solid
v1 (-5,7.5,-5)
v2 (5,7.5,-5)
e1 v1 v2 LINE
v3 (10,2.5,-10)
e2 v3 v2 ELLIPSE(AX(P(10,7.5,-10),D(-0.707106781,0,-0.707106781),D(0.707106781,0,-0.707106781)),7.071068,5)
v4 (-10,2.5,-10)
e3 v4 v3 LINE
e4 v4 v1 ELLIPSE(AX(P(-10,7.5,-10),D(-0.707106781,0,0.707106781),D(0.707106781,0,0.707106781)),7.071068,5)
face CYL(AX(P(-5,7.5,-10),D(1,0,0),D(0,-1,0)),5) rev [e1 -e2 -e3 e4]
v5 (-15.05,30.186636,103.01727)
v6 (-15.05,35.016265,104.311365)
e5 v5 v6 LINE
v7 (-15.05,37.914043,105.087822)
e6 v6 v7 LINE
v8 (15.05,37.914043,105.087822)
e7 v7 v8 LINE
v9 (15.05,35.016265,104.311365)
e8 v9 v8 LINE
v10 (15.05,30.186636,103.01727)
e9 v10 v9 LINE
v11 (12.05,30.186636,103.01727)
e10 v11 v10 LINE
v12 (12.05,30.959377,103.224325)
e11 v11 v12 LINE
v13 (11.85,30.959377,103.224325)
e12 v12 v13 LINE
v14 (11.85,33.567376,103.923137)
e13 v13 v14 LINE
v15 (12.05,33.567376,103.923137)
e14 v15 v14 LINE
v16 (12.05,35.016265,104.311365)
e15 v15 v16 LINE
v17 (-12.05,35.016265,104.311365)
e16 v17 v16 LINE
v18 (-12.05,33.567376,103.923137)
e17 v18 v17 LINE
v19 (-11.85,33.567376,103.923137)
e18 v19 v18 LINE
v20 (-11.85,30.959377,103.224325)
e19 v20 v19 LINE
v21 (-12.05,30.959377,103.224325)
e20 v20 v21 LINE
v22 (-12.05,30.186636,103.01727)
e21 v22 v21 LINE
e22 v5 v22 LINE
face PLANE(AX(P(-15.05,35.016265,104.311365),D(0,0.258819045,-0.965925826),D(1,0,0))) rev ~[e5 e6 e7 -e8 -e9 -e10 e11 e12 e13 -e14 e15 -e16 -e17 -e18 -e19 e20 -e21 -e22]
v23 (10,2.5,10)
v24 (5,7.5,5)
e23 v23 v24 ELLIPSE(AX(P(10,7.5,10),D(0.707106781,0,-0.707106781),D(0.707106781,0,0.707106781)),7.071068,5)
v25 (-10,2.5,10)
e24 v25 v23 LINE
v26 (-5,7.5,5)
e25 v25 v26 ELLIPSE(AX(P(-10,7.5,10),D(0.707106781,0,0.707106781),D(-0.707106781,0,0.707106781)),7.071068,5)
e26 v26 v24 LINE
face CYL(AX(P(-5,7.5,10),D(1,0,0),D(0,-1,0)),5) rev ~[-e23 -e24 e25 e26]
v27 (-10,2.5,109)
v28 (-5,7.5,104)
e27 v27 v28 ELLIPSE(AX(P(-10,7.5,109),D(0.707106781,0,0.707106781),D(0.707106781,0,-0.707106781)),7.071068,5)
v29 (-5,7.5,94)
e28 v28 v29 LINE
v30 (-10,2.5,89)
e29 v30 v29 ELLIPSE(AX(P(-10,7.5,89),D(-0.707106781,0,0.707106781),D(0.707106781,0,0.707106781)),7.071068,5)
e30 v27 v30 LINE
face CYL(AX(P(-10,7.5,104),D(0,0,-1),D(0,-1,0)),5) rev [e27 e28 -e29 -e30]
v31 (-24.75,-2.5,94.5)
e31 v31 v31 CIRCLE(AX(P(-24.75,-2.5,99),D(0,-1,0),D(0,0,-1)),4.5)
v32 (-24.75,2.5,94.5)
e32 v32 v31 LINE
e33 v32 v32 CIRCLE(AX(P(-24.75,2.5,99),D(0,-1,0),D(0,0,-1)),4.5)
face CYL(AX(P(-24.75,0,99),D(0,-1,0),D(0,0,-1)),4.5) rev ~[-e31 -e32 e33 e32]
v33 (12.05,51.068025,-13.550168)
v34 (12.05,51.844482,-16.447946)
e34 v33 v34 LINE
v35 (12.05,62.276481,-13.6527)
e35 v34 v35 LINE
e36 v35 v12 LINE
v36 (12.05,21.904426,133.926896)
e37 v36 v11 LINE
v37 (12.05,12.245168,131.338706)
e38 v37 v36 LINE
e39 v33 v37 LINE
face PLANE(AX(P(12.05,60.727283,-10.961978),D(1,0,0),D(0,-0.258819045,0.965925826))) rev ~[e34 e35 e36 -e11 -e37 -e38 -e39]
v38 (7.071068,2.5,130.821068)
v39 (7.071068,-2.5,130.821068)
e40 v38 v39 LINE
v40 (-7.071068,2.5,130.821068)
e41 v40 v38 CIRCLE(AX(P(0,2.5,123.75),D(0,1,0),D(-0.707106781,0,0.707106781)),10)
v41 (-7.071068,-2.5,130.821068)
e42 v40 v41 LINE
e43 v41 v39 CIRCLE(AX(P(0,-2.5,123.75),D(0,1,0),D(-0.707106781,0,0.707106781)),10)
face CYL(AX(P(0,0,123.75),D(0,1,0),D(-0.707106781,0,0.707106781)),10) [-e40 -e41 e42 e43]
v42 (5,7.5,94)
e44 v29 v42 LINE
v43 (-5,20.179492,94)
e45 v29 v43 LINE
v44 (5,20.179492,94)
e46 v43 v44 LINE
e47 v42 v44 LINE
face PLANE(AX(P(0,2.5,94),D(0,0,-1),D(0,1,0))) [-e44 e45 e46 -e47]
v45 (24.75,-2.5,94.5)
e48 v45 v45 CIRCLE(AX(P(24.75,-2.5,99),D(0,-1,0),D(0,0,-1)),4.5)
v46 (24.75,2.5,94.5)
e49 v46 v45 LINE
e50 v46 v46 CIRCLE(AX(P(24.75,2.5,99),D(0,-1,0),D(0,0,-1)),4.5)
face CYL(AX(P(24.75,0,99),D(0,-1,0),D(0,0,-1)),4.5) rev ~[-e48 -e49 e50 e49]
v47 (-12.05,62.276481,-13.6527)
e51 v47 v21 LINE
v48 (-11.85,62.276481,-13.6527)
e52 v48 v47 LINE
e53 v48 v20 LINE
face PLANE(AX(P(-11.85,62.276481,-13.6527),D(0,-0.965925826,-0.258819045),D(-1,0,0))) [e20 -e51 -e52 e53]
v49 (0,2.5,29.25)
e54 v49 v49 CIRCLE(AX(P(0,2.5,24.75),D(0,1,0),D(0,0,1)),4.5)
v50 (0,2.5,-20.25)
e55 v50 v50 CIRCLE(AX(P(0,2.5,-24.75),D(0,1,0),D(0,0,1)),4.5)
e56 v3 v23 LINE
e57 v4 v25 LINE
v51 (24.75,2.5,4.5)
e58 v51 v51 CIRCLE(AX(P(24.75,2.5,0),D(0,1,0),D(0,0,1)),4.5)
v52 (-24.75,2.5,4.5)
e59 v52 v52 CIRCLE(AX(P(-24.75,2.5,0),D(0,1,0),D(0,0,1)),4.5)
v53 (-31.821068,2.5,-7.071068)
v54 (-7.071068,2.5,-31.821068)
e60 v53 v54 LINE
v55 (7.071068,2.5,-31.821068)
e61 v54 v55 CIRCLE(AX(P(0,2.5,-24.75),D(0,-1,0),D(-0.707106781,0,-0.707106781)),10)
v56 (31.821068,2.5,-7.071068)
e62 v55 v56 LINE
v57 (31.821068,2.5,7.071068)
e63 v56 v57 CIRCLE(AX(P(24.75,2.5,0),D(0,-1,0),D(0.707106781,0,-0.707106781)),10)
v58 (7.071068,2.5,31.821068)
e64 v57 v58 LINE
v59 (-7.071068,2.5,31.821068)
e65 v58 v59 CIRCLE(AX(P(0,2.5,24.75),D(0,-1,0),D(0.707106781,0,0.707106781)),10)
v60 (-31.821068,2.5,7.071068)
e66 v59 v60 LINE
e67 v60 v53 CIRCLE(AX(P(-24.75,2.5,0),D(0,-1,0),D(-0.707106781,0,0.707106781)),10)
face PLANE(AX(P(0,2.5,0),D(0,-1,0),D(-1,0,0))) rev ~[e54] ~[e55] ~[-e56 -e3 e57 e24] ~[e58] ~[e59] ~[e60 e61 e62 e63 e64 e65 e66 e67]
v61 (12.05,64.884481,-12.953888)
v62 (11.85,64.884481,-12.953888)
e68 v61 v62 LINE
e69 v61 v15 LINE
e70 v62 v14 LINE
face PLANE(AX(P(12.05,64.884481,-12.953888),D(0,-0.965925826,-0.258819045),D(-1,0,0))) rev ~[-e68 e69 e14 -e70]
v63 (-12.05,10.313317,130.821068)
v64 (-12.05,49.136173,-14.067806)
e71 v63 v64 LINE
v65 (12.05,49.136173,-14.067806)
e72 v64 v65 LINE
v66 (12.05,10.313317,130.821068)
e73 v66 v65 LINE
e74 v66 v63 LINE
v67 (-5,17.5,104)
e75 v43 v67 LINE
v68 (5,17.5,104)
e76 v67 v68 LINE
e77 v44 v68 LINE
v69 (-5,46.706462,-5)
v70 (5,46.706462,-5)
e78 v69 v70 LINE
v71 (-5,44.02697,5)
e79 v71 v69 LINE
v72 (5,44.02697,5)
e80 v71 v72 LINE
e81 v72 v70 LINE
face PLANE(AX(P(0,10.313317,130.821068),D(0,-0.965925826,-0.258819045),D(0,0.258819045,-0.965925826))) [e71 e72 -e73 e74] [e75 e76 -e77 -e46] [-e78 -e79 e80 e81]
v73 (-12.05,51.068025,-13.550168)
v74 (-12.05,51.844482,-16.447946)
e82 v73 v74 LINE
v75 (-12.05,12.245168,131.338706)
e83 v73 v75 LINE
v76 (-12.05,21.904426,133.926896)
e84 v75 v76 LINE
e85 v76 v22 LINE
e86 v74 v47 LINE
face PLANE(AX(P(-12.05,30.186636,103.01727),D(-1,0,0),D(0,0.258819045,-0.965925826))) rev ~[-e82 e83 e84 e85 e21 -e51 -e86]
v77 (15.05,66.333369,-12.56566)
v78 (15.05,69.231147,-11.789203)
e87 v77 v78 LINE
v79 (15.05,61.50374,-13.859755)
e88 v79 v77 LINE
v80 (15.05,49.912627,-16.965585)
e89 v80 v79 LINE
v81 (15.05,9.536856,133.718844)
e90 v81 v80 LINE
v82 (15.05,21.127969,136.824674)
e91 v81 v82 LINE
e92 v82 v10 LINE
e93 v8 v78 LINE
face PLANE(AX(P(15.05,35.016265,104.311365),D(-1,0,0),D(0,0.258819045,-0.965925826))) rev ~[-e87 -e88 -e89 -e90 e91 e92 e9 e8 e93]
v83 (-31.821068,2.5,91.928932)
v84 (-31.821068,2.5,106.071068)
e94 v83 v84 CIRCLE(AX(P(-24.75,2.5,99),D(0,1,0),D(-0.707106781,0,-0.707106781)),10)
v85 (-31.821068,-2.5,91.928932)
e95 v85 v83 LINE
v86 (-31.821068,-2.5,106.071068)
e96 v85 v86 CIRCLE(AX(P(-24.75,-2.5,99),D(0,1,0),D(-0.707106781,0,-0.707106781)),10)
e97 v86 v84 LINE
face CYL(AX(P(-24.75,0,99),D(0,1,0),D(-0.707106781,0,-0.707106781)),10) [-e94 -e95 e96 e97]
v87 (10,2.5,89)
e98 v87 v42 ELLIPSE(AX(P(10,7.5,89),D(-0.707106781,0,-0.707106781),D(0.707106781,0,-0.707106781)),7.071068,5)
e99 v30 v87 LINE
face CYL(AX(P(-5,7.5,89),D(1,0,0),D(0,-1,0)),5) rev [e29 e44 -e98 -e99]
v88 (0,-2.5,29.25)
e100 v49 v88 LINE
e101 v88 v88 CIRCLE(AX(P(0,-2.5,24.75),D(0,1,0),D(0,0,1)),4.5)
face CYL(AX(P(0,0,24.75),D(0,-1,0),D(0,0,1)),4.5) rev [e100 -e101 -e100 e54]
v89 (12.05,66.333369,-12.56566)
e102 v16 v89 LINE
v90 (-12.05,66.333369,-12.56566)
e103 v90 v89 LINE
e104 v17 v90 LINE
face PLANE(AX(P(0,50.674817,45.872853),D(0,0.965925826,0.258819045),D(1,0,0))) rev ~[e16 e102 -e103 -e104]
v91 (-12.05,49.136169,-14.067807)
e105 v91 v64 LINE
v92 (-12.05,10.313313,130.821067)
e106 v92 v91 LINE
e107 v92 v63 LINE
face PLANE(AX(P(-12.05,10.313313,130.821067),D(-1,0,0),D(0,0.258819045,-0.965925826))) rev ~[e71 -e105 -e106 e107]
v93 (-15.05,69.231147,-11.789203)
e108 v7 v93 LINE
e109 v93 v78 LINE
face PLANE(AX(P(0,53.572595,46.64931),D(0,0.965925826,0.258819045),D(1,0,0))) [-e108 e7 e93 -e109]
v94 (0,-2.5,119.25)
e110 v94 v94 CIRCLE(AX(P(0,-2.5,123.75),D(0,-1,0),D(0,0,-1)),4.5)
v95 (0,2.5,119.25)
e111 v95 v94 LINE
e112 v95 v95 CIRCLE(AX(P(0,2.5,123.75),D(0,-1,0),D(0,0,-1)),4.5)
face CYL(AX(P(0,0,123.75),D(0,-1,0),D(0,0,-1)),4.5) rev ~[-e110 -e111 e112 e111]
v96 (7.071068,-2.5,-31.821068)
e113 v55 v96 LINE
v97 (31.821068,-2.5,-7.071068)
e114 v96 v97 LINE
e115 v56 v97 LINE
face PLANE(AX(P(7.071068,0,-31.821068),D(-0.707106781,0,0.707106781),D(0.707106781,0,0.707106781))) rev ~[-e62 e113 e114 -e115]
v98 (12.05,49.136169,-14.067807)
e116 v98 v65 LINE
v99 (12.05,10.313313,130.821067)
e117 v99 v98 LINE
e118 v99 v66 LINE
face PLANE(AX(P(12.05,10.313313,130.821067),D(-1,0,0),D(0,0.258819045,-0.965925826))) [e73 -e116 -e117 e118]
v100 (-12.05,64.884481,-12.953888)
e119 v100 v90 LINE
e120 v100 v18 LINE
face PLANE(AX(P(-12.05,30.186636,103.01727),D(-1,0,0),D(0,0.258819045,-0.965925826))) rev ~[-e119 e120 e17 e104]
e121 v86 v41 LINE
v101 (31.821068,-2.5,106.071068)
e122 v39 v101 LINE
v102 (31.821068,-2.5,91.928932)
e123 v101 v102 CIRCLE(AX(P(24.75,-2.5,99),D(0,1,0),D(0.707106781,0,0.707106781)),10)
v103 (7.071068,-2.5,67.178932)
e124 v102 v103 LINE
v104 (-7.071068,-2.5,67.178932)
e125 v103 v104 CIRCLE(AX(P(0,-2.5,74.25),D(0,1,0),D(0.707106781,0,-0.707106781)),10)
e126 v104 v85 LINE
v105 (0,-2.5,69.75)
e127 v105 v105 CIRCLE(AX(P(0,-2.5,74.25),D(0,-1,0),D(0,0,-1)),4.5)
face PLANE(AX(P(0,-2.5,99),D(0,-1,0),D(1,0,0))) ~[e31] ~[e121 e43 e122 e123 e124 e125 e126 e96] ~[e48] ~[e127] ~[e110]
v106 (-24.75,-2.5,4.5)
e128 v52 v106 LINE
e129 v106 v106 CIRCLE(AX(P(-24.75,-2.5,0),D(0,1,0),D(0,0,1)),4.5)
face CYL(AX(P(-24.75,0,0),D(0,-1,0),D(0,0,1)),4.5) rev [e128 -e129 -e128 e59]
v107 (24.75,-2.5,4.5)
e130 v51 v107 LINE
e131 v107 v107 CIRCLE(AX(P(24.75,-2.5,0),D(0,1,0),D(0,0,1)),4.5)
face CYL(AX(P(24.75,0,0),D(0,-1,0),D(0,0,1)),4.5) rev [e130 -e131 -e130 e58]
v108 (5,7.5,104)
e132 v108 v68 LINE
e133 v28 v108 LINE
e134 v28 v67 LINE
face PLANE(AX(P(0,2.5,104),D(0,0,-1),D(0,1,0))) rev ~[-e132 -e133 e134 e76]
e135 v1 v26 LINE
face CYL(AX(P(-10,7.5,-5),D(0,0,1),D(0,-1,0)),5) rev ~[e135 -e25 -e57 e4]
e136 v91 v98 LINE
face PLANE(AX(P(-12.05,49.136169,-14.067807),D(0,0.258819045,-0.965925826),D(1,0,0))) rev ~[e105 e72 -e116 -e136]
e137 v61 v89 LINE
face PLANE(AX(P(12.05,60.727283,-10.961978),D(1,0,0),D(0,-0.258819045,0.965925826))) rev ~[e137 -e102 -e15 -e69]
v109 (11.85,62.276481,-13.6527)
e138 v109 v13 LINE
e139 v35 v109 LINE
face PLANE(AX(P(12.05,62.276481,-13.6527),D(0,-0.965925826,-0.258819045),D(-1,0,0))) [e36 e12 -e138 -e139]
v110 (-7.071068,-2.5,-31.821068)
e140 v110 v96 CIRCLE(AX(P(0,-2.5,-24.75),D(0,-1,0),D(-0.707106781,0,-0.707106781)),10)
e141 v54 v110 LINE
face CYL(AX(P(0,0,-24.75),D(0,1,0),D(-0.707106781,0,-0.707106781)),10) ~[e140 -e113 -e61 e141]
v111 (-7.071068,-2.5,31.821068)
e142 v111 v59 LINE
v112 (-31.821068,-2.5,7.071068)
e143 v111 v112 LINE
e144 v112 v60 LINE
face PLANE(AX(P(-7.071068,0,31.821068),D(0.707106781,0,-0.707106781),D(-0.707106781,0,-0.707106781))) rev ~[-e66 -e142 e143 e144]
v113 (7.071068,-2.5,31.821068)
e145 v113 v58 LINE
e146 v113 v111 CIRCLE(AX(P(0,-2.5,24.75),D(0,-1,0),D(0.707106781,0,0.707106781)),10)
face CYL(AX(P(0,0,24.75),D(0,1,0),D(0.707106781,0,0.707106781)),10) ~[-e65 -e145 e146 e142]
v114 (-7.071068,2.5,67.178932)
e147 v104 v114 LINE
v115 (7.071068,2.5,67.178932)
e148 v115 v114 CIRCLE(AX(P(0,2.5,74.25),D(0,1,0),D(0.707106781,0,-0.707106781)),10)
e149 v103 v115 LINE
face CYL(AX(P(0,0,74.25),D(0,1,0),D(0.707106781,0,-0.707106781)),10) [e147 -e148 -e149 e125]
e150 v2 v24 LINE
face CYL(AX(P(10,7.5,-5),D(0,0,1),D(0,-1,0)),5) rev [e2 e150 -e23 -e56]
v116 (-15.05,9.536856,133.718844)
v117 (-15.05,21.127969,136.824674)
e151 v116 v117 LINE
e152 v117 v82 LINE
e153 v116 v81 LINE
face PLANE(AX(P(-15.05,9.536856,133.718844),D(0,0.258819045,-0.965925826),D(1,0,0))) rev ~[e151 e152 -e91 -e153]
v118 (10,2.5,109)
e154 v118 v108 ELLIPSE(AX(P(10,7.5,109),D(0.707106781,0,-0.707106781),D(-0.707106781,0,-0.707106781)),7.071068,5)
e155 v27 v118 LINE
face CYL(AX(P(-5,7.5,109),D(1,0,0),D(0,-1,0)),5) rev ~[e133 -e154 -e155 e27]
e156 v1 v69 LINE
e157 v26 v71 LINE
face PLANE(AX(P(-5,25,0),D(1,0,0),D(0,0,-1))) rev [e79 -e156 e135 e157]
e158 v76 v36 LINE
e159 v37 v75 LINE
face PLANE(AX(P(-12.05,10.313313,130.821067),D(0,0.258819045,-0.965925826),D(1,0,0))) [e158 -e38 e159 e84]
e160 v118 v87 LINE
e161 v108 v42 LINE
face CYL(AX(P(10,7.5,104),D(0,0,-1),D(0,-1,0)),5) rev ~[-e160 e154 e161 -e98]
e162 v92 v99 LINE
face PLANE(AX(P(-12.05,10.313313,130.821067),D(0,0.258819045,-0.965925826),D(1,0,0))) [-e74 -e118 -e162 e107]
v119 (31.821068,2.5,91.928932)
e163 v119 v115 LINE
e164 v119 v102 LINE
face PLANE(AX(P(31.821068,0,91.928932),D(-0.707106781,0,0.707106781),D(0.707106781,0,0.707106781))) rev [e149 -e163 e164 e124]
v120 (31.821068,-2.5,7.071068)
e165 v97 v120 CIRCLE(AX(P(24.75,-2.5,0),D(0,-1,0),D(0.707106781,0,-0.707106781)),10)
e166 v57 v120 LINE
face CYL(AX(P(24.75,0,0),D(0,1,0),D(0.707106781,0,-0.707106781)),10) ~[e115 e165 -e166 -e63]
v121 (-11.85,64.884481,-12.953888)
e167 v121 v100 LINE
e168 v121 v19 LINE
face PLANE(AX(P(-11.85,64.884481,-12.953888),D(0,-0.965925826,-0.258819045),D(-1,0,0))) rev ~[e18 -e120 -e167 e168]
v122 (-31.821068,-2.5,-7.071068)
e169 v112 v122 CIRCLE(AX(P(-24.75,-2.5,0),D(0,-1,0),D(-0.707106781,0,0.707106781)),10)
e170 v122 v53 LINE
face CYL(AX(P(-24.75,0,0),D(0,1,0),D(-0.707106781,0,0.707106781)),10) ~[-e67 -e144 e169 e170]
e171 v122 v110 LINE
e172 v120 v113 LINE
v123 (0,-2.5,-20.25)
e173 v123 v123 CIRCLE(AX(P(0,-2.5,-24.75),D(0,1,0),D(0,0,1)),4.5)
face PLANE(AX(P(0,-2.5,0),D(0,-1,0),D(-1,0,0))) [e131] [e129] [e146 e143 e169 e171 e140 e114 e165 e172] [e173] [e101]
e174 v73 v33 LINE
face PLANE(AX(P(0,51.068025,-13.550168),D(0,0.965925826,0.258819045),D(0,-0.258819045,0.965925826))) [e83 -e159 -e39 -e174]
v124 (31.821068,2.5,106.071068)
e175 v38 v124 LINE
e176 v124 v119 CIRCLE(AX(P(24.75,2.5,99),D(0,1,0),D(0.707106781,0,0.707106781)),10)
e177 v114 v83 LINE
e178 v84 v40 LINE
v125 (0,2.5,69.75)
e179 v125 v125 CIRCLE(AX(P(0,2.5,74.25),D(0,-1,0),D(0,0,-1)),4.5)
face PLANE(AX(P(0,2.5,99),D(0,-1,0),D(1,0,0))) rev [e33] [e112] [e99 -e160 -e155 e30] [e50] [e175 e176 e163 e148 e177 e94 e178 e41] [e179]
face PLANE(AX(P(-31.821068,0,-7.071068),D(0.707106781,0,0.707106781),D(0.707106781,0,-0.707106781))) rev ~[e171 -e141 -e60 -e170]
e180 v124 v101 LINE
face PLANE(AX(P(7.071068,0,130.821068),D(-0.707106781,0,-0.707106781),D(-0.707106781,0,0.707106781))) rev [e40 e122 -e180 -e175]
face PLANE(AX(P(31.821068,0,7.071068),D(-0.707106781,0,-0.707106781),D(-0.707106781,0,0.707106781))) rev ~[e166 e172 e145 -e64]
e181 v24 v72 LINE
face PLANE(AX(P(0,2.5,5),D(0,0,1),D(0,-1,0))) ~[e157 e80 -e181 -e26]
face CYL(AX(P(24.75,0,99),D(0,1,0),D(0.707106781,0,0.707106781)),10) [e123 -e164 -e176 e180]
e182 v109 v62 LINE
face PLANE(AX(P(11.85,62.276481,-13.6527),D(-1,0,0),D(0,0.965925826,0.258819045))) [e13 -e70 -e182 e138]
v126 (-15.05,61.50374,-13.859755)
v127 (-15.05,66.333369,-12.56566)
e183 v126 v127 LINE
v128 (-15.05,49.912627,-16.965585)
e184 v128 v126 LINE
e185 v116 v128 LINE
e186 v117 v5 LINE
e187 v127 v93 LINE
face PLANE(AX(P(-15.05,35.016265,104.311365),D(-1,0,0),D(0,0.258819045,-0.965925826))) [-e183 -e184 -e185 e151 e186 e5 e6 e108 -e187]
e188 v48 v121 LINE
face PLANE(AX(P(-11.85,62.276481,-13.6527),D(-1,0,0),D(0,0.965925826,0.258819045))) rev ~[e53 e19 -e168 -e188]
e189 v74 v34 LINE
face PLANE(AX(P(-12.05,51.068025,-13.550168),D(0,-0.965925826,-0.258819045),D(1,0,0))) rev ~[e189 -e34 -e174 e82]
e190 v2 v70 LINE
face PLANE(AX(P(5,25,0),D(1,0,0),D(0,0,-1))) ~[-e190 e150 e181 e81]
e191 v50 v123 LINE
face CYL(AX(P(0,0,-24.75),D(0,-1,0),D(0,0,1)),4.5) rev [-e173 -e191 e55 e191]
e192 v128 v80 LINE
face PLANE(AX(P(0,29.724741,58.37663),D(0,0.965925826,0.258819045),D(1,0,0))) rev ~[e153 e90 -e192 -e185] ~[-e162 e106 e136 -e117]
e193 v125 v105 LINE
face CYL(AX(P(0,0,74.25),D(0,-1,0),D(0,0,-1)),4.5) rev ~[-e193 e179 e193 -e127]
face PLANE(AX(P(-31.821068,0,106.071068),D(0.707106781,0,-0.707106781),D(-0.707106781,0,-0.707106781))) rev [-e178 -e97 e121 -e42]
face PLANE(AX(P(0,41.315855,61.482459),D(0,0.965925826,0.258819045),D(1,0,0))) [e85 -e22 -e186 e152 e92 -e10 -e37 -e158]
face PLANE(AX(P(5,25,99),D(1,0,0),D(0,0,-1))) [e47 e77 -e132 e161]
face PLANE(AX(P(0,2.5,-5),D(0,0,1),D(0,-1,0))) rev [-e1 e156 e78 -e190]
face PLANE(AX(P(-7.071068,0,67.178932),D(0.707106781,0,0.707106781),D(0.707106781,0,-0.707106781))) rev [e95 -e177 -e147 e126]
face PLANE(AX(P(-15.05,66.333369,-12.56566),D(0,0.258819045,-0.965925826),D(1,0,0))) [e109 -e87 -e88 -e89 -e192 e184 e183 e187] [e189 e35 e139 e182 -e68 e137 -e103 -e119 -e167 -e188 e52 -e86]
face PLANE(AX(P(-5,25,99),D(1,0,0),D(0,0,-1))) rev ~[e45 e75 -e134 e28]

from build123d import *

# Parameters (mm, degrees)
SKETCH1_R                = 4.5
BOSS_EXTRUDE1_DEPTH      = 2.5
SKETCH2_W                = 10
SKETCH2_H                = 45
BOSS_EXTRUDE2_DEPTH      = 5
CUT_EXTRUDE1_DEPTH       = 147.126229678
CUT_EXTRUDE1_DEPTH_BACK  = 147.126229678
BOSS_EXTRUDE3_DEPTH      = 12.05
FILLET1_R                = 5
FILLET2_R                = 5
BOSS_EXTRUDE4_DEPTH      = 10
BOSS_EXTRUDE4_DEPTH_BACK = 2.000004
SKETCH6_W                = 30.1
SKETCH6_H                = 156
SKETCH6_W_2              = 24.1
SKETCH6_H_2              = 150
BOSS_EXTRUDE5_DEPTH      = 5
SKETCH8_W                = 30.1
SKETCH8_H                = 121
BOSS_EXTRUDE6_DEPTH      = 3
CUT_EXTRUDE2_REACH       = 179.268
SKETCH10_W               = 24.1
SKETCH10_H               = 15
SKETCH11_W               = 0.2
SKETCH11_H               = 2.7
BOSS_EXTRUDE7_DEPTH      = 121


with BuildPart() as part:
    # Sketch1 → Boss-Extrude1 (new, symmetric)
    with BuildSketch(Plane(origin=(0, 0, 0), x_dir=(1, 0, 0), z_dir=(0, 1, 0))):
        with BuildLine():
            Line((-31.821067812, 7.071067812), (-7.071067812, 31.821067812))
            ThreePointArc((-7.071067812, 31.821067812), (0, 34.75), (7.071067812, 31.821067812))
            Line((7.071067812, 31.821067812), (31.821067812, 7.071067812))
            ThreePointArc((31.821067812, 7.071067812), (34.75, 0), (31.821067812, -7.071067812))
            Line((31.821067812, -7.071067812), (7.071067812, -31.821067812))
            ThreePointArc((7.071067812, -31.821067812), (0, -34.75), (-7.071067812, -31.821067812))
            Line((-7.071067812, -31.821067812), (-31.821067812, -7.071067812))
            ThreePointArc((-31.821067812, -7.071067812), (-34.75, 0), (-31.821067812, 7.071067812))
        make_face()
        with Locations(Location((0, 24.75, 0), (0, 0, 270))):
            Circle(SKETCH1_R, mode=Mode.SUBTRACT)
        with Locations(Location((24.75, 0, 0), (0, 0, 270))):
            Circle(SKETCH1_R, mode=Mode.SUBTRACT)
        with Locations(Location((0, -24.75, 0), (0, 0, 270))):
            Circle(SKETCH1_R, mode=Mode.SUBTRACT)
        with Locations(Location((-24.75, 0, 0), (0, 0, 270))):
            Circle(SKETCH1_R, mode=Mode.SUBTRACT)
    extrude(amount=BOSS_EXTRUDE1_DEPTH, both=True)


with BuildPart() as body_2:
    # Mirror3: mirrored copy
    add(part.part.mirror(Plane.XY.offset(49.5)))


with BuildPart() as body_3:
    # Sketch2 → Boss-Extrude2 (new, symmetric)
    with BuildSketch(Plane(origin=(0, 0, 0), x_dir=(0, 0, -1), z_dir=(1, 0, 0))):
        with Locations((-99, 25)):
            Rectangle(SKETCH2_W, SKETCH2_H)
    extrude(amount=BOSS_EXTRUDE2_DEPTH, both=True)


with BuildPart() as body_4:
    # Mirror5: mirrored copy
    add(body_3.part.mirror(Plane.XY.offset(49.5)))


with BuildPart() as cut_extrude1_tool:
    # Sketch3 → Cut-Extrude1 (new, two sides: drawn at the far end of the back side and taken through both)
    with BuildSketch(Plane(origin=(0, 0, 0), x_dir=(0, 0, -1), z_dir=(1, 0, 0)).offset(-CUT_EXTRUDE1_DEPTH_BACK)):
        Polygon((-398.060619113, -61.293305417), (-104, 17.5), (5, 46.706461975), (299.060619113, 125.499767392), (141.474008279, 713.621005618), (-555.647229947, 526.827932809), align=None)
    extrude(amount=CUT_EXTRUDE1_DEPTH + CUT_EXTRUDE1_DEPTH_BACK)


with BuildPart() as body_3_1:
    add(body_3.part)

    # Cut-Extrude1: cut by cut_extrude1_tool
    add(cut_extrude1_tool.part, mode=Mode.SUBTRACT)


with BuildPart() as body_4_1:
    add(body_4.part)

    # Cut-Extrude1: cut by cut_extrude1_tool
    add(cut_extrude1_tool.part, mode=Mode.SUBTRACT)

    # Combine2: union part
    add(part.part)

    # Fillet2
    fillet2_edges = [body_4_1.edges().sort_by_distance(p)[0] for p in [
        (-5, 2.5, 0),
        (0, 2.5, 5),
        (0, 2.5, -5),
        (5, 2.5, 0),
    ]]
    fillet(fillet2_edges, radius=FILLET2_R)


with BuildPart() as body_5:
    # Sketch4 → Boss-Extrude3 (new, symmetric)
    with BuildSketch(Plane(origin=(0, 0, 0), x_dir=(0, 0, -1), z_dir=(1, 0, 0))):
        Polygon((-130.821067812, 10.31331654), (14.067806131, 49.136173305), (13.550168041, 51.068024958), (-131.338705902, 12.245168192), align=None)
    extrude(amount=BOSS_EXTRUDE3_DEPTH, both=True)



with BuildPart() as body_2_1:
    add(body_2.part)

    # Combine1: union body 3
    add(body_3_1.part)

    # Fillet1
    fillet1_edges = [body_2_1.edges().sort_by_distance(p)[0] for p in [
        (0, 2.5, 94),
        (5, 2.5, 99),
        (-5, 2.5, 99),
        (0, 2.5, 104),
    ]]
    fillet(fillet1_edges, radius=FILLET1_R)


with BuildPart() as body_5_1:
    add(body_5.part)

    add(body_2_1.part)  # Boss-Extrude4 merges body 2

    add(body_4_1.part)  # Boss-Extrude4 merges body 4
    # Sketch6 → Boss-Extrude4 (add, two sides: drawn at the far end of the back side and taken through both)
    with BuildSketch(Plane(origin=(0, 44.259573936, 11.859317093), x_dir=(1, 0, 0), z_dir=(0, 0.96592582628907, 0.2588190451025143)).offset(-BOSS_EXTRUDE4_DEPTH_BACK)):
        with Locations((0, -48.694165284)):
            Rectangle(SKETCH6_W, SKETCH6_H)
        with Locations((0, -48.694165284)):
            Rectangle(SKETCH6_W_2, SKETCH6_H_2, mode=Mode.SUBTRACT)
    extrude(amount=BOSS_EXTRUDE4_DEPTH + BOSS_EXTRUDE4_DEPTH_BACK)

    # Sketch7 → Boss-Extrude5 (add)
    with BuildSketch(Plane(origin=(0, 53.918832199, 14.447507544), x_dir=(1, 0, 0), z_dir=(0, 0.96592582628907, 0.25881904510251436))):
        Polygon((12.05, 26.305834716), (12.05, -91.694165284), (15.05, -91.694165284), (15.05, 29.305834716), (-15.05, 29.305834716), (-15.05, -91.694165284), (-12.05, -91.694165284), (-12.05, 26.305834716), align=None)
    extrude(amount=BOSS_EXTRUDE5_DEPTH)

    # Sketch8 → Boss-Extrude6 (add)
    with BuildSketch(Plane(origin=(0, 58.74846133, 15.74160277), x_dir=(1, 0, 0), z_dir=(0, 0.96592582628907, 0.25881904510251436))):
        with Locations((0, -31.194165284)):
            Rectangle(SKETCH8_W, SKETCH8_H)
    extrude(amount=BOSS_EXTRUDE6_DEPTH)

    # Sketch10 → Cut-Extrude2 (cut, up to next)
    with BuildSketch(Plane(origin=(0, 6.808451022, -25.409485135), x_dir=(1, 0, 0), z_dir=(0, -0.2588190451025143, 0.96592582628907)), mode=Mode.PRIVATE) as cut_extrude2_sk1:
        with Locations((0, 53.320882651)):
            Rectangle(SKETCH10_W, SKETCH10_H)
    cut_extrude2_tool1 = extrude(cut_extrude2_sk1.sketch, amount=-CUT_EXTRUDE2_REACH, mode=Mode.PRIVATE) & body_5_1.part
    add(cut_extrude2_tool1.solids().sort_by_distance((0, 58.312469, -11.609025))[0], mode=Mode.SUBTRACT)

    # Sketch11 → Boss-Extrude7 (add)
    with BuildSketch(Plane(origin=(0, 7.584908157, -28.307262614), x_dir=(-1, 0, 0), z_dir=(0, 0.2588190451025143, -0.96592582628907))):
        with Locations((-11.95, 57.970882651)):
            Rectangle(SKETCH11_W, SKETCH11_H)
        with Locations((11.95, 57.970882651)):
            Rectangle(SKETCH11_W, SKETCH11_H)
    extrude(amount=-BOSS_EXTRUDE7_DEPTH)


solid = body_5_1.part
